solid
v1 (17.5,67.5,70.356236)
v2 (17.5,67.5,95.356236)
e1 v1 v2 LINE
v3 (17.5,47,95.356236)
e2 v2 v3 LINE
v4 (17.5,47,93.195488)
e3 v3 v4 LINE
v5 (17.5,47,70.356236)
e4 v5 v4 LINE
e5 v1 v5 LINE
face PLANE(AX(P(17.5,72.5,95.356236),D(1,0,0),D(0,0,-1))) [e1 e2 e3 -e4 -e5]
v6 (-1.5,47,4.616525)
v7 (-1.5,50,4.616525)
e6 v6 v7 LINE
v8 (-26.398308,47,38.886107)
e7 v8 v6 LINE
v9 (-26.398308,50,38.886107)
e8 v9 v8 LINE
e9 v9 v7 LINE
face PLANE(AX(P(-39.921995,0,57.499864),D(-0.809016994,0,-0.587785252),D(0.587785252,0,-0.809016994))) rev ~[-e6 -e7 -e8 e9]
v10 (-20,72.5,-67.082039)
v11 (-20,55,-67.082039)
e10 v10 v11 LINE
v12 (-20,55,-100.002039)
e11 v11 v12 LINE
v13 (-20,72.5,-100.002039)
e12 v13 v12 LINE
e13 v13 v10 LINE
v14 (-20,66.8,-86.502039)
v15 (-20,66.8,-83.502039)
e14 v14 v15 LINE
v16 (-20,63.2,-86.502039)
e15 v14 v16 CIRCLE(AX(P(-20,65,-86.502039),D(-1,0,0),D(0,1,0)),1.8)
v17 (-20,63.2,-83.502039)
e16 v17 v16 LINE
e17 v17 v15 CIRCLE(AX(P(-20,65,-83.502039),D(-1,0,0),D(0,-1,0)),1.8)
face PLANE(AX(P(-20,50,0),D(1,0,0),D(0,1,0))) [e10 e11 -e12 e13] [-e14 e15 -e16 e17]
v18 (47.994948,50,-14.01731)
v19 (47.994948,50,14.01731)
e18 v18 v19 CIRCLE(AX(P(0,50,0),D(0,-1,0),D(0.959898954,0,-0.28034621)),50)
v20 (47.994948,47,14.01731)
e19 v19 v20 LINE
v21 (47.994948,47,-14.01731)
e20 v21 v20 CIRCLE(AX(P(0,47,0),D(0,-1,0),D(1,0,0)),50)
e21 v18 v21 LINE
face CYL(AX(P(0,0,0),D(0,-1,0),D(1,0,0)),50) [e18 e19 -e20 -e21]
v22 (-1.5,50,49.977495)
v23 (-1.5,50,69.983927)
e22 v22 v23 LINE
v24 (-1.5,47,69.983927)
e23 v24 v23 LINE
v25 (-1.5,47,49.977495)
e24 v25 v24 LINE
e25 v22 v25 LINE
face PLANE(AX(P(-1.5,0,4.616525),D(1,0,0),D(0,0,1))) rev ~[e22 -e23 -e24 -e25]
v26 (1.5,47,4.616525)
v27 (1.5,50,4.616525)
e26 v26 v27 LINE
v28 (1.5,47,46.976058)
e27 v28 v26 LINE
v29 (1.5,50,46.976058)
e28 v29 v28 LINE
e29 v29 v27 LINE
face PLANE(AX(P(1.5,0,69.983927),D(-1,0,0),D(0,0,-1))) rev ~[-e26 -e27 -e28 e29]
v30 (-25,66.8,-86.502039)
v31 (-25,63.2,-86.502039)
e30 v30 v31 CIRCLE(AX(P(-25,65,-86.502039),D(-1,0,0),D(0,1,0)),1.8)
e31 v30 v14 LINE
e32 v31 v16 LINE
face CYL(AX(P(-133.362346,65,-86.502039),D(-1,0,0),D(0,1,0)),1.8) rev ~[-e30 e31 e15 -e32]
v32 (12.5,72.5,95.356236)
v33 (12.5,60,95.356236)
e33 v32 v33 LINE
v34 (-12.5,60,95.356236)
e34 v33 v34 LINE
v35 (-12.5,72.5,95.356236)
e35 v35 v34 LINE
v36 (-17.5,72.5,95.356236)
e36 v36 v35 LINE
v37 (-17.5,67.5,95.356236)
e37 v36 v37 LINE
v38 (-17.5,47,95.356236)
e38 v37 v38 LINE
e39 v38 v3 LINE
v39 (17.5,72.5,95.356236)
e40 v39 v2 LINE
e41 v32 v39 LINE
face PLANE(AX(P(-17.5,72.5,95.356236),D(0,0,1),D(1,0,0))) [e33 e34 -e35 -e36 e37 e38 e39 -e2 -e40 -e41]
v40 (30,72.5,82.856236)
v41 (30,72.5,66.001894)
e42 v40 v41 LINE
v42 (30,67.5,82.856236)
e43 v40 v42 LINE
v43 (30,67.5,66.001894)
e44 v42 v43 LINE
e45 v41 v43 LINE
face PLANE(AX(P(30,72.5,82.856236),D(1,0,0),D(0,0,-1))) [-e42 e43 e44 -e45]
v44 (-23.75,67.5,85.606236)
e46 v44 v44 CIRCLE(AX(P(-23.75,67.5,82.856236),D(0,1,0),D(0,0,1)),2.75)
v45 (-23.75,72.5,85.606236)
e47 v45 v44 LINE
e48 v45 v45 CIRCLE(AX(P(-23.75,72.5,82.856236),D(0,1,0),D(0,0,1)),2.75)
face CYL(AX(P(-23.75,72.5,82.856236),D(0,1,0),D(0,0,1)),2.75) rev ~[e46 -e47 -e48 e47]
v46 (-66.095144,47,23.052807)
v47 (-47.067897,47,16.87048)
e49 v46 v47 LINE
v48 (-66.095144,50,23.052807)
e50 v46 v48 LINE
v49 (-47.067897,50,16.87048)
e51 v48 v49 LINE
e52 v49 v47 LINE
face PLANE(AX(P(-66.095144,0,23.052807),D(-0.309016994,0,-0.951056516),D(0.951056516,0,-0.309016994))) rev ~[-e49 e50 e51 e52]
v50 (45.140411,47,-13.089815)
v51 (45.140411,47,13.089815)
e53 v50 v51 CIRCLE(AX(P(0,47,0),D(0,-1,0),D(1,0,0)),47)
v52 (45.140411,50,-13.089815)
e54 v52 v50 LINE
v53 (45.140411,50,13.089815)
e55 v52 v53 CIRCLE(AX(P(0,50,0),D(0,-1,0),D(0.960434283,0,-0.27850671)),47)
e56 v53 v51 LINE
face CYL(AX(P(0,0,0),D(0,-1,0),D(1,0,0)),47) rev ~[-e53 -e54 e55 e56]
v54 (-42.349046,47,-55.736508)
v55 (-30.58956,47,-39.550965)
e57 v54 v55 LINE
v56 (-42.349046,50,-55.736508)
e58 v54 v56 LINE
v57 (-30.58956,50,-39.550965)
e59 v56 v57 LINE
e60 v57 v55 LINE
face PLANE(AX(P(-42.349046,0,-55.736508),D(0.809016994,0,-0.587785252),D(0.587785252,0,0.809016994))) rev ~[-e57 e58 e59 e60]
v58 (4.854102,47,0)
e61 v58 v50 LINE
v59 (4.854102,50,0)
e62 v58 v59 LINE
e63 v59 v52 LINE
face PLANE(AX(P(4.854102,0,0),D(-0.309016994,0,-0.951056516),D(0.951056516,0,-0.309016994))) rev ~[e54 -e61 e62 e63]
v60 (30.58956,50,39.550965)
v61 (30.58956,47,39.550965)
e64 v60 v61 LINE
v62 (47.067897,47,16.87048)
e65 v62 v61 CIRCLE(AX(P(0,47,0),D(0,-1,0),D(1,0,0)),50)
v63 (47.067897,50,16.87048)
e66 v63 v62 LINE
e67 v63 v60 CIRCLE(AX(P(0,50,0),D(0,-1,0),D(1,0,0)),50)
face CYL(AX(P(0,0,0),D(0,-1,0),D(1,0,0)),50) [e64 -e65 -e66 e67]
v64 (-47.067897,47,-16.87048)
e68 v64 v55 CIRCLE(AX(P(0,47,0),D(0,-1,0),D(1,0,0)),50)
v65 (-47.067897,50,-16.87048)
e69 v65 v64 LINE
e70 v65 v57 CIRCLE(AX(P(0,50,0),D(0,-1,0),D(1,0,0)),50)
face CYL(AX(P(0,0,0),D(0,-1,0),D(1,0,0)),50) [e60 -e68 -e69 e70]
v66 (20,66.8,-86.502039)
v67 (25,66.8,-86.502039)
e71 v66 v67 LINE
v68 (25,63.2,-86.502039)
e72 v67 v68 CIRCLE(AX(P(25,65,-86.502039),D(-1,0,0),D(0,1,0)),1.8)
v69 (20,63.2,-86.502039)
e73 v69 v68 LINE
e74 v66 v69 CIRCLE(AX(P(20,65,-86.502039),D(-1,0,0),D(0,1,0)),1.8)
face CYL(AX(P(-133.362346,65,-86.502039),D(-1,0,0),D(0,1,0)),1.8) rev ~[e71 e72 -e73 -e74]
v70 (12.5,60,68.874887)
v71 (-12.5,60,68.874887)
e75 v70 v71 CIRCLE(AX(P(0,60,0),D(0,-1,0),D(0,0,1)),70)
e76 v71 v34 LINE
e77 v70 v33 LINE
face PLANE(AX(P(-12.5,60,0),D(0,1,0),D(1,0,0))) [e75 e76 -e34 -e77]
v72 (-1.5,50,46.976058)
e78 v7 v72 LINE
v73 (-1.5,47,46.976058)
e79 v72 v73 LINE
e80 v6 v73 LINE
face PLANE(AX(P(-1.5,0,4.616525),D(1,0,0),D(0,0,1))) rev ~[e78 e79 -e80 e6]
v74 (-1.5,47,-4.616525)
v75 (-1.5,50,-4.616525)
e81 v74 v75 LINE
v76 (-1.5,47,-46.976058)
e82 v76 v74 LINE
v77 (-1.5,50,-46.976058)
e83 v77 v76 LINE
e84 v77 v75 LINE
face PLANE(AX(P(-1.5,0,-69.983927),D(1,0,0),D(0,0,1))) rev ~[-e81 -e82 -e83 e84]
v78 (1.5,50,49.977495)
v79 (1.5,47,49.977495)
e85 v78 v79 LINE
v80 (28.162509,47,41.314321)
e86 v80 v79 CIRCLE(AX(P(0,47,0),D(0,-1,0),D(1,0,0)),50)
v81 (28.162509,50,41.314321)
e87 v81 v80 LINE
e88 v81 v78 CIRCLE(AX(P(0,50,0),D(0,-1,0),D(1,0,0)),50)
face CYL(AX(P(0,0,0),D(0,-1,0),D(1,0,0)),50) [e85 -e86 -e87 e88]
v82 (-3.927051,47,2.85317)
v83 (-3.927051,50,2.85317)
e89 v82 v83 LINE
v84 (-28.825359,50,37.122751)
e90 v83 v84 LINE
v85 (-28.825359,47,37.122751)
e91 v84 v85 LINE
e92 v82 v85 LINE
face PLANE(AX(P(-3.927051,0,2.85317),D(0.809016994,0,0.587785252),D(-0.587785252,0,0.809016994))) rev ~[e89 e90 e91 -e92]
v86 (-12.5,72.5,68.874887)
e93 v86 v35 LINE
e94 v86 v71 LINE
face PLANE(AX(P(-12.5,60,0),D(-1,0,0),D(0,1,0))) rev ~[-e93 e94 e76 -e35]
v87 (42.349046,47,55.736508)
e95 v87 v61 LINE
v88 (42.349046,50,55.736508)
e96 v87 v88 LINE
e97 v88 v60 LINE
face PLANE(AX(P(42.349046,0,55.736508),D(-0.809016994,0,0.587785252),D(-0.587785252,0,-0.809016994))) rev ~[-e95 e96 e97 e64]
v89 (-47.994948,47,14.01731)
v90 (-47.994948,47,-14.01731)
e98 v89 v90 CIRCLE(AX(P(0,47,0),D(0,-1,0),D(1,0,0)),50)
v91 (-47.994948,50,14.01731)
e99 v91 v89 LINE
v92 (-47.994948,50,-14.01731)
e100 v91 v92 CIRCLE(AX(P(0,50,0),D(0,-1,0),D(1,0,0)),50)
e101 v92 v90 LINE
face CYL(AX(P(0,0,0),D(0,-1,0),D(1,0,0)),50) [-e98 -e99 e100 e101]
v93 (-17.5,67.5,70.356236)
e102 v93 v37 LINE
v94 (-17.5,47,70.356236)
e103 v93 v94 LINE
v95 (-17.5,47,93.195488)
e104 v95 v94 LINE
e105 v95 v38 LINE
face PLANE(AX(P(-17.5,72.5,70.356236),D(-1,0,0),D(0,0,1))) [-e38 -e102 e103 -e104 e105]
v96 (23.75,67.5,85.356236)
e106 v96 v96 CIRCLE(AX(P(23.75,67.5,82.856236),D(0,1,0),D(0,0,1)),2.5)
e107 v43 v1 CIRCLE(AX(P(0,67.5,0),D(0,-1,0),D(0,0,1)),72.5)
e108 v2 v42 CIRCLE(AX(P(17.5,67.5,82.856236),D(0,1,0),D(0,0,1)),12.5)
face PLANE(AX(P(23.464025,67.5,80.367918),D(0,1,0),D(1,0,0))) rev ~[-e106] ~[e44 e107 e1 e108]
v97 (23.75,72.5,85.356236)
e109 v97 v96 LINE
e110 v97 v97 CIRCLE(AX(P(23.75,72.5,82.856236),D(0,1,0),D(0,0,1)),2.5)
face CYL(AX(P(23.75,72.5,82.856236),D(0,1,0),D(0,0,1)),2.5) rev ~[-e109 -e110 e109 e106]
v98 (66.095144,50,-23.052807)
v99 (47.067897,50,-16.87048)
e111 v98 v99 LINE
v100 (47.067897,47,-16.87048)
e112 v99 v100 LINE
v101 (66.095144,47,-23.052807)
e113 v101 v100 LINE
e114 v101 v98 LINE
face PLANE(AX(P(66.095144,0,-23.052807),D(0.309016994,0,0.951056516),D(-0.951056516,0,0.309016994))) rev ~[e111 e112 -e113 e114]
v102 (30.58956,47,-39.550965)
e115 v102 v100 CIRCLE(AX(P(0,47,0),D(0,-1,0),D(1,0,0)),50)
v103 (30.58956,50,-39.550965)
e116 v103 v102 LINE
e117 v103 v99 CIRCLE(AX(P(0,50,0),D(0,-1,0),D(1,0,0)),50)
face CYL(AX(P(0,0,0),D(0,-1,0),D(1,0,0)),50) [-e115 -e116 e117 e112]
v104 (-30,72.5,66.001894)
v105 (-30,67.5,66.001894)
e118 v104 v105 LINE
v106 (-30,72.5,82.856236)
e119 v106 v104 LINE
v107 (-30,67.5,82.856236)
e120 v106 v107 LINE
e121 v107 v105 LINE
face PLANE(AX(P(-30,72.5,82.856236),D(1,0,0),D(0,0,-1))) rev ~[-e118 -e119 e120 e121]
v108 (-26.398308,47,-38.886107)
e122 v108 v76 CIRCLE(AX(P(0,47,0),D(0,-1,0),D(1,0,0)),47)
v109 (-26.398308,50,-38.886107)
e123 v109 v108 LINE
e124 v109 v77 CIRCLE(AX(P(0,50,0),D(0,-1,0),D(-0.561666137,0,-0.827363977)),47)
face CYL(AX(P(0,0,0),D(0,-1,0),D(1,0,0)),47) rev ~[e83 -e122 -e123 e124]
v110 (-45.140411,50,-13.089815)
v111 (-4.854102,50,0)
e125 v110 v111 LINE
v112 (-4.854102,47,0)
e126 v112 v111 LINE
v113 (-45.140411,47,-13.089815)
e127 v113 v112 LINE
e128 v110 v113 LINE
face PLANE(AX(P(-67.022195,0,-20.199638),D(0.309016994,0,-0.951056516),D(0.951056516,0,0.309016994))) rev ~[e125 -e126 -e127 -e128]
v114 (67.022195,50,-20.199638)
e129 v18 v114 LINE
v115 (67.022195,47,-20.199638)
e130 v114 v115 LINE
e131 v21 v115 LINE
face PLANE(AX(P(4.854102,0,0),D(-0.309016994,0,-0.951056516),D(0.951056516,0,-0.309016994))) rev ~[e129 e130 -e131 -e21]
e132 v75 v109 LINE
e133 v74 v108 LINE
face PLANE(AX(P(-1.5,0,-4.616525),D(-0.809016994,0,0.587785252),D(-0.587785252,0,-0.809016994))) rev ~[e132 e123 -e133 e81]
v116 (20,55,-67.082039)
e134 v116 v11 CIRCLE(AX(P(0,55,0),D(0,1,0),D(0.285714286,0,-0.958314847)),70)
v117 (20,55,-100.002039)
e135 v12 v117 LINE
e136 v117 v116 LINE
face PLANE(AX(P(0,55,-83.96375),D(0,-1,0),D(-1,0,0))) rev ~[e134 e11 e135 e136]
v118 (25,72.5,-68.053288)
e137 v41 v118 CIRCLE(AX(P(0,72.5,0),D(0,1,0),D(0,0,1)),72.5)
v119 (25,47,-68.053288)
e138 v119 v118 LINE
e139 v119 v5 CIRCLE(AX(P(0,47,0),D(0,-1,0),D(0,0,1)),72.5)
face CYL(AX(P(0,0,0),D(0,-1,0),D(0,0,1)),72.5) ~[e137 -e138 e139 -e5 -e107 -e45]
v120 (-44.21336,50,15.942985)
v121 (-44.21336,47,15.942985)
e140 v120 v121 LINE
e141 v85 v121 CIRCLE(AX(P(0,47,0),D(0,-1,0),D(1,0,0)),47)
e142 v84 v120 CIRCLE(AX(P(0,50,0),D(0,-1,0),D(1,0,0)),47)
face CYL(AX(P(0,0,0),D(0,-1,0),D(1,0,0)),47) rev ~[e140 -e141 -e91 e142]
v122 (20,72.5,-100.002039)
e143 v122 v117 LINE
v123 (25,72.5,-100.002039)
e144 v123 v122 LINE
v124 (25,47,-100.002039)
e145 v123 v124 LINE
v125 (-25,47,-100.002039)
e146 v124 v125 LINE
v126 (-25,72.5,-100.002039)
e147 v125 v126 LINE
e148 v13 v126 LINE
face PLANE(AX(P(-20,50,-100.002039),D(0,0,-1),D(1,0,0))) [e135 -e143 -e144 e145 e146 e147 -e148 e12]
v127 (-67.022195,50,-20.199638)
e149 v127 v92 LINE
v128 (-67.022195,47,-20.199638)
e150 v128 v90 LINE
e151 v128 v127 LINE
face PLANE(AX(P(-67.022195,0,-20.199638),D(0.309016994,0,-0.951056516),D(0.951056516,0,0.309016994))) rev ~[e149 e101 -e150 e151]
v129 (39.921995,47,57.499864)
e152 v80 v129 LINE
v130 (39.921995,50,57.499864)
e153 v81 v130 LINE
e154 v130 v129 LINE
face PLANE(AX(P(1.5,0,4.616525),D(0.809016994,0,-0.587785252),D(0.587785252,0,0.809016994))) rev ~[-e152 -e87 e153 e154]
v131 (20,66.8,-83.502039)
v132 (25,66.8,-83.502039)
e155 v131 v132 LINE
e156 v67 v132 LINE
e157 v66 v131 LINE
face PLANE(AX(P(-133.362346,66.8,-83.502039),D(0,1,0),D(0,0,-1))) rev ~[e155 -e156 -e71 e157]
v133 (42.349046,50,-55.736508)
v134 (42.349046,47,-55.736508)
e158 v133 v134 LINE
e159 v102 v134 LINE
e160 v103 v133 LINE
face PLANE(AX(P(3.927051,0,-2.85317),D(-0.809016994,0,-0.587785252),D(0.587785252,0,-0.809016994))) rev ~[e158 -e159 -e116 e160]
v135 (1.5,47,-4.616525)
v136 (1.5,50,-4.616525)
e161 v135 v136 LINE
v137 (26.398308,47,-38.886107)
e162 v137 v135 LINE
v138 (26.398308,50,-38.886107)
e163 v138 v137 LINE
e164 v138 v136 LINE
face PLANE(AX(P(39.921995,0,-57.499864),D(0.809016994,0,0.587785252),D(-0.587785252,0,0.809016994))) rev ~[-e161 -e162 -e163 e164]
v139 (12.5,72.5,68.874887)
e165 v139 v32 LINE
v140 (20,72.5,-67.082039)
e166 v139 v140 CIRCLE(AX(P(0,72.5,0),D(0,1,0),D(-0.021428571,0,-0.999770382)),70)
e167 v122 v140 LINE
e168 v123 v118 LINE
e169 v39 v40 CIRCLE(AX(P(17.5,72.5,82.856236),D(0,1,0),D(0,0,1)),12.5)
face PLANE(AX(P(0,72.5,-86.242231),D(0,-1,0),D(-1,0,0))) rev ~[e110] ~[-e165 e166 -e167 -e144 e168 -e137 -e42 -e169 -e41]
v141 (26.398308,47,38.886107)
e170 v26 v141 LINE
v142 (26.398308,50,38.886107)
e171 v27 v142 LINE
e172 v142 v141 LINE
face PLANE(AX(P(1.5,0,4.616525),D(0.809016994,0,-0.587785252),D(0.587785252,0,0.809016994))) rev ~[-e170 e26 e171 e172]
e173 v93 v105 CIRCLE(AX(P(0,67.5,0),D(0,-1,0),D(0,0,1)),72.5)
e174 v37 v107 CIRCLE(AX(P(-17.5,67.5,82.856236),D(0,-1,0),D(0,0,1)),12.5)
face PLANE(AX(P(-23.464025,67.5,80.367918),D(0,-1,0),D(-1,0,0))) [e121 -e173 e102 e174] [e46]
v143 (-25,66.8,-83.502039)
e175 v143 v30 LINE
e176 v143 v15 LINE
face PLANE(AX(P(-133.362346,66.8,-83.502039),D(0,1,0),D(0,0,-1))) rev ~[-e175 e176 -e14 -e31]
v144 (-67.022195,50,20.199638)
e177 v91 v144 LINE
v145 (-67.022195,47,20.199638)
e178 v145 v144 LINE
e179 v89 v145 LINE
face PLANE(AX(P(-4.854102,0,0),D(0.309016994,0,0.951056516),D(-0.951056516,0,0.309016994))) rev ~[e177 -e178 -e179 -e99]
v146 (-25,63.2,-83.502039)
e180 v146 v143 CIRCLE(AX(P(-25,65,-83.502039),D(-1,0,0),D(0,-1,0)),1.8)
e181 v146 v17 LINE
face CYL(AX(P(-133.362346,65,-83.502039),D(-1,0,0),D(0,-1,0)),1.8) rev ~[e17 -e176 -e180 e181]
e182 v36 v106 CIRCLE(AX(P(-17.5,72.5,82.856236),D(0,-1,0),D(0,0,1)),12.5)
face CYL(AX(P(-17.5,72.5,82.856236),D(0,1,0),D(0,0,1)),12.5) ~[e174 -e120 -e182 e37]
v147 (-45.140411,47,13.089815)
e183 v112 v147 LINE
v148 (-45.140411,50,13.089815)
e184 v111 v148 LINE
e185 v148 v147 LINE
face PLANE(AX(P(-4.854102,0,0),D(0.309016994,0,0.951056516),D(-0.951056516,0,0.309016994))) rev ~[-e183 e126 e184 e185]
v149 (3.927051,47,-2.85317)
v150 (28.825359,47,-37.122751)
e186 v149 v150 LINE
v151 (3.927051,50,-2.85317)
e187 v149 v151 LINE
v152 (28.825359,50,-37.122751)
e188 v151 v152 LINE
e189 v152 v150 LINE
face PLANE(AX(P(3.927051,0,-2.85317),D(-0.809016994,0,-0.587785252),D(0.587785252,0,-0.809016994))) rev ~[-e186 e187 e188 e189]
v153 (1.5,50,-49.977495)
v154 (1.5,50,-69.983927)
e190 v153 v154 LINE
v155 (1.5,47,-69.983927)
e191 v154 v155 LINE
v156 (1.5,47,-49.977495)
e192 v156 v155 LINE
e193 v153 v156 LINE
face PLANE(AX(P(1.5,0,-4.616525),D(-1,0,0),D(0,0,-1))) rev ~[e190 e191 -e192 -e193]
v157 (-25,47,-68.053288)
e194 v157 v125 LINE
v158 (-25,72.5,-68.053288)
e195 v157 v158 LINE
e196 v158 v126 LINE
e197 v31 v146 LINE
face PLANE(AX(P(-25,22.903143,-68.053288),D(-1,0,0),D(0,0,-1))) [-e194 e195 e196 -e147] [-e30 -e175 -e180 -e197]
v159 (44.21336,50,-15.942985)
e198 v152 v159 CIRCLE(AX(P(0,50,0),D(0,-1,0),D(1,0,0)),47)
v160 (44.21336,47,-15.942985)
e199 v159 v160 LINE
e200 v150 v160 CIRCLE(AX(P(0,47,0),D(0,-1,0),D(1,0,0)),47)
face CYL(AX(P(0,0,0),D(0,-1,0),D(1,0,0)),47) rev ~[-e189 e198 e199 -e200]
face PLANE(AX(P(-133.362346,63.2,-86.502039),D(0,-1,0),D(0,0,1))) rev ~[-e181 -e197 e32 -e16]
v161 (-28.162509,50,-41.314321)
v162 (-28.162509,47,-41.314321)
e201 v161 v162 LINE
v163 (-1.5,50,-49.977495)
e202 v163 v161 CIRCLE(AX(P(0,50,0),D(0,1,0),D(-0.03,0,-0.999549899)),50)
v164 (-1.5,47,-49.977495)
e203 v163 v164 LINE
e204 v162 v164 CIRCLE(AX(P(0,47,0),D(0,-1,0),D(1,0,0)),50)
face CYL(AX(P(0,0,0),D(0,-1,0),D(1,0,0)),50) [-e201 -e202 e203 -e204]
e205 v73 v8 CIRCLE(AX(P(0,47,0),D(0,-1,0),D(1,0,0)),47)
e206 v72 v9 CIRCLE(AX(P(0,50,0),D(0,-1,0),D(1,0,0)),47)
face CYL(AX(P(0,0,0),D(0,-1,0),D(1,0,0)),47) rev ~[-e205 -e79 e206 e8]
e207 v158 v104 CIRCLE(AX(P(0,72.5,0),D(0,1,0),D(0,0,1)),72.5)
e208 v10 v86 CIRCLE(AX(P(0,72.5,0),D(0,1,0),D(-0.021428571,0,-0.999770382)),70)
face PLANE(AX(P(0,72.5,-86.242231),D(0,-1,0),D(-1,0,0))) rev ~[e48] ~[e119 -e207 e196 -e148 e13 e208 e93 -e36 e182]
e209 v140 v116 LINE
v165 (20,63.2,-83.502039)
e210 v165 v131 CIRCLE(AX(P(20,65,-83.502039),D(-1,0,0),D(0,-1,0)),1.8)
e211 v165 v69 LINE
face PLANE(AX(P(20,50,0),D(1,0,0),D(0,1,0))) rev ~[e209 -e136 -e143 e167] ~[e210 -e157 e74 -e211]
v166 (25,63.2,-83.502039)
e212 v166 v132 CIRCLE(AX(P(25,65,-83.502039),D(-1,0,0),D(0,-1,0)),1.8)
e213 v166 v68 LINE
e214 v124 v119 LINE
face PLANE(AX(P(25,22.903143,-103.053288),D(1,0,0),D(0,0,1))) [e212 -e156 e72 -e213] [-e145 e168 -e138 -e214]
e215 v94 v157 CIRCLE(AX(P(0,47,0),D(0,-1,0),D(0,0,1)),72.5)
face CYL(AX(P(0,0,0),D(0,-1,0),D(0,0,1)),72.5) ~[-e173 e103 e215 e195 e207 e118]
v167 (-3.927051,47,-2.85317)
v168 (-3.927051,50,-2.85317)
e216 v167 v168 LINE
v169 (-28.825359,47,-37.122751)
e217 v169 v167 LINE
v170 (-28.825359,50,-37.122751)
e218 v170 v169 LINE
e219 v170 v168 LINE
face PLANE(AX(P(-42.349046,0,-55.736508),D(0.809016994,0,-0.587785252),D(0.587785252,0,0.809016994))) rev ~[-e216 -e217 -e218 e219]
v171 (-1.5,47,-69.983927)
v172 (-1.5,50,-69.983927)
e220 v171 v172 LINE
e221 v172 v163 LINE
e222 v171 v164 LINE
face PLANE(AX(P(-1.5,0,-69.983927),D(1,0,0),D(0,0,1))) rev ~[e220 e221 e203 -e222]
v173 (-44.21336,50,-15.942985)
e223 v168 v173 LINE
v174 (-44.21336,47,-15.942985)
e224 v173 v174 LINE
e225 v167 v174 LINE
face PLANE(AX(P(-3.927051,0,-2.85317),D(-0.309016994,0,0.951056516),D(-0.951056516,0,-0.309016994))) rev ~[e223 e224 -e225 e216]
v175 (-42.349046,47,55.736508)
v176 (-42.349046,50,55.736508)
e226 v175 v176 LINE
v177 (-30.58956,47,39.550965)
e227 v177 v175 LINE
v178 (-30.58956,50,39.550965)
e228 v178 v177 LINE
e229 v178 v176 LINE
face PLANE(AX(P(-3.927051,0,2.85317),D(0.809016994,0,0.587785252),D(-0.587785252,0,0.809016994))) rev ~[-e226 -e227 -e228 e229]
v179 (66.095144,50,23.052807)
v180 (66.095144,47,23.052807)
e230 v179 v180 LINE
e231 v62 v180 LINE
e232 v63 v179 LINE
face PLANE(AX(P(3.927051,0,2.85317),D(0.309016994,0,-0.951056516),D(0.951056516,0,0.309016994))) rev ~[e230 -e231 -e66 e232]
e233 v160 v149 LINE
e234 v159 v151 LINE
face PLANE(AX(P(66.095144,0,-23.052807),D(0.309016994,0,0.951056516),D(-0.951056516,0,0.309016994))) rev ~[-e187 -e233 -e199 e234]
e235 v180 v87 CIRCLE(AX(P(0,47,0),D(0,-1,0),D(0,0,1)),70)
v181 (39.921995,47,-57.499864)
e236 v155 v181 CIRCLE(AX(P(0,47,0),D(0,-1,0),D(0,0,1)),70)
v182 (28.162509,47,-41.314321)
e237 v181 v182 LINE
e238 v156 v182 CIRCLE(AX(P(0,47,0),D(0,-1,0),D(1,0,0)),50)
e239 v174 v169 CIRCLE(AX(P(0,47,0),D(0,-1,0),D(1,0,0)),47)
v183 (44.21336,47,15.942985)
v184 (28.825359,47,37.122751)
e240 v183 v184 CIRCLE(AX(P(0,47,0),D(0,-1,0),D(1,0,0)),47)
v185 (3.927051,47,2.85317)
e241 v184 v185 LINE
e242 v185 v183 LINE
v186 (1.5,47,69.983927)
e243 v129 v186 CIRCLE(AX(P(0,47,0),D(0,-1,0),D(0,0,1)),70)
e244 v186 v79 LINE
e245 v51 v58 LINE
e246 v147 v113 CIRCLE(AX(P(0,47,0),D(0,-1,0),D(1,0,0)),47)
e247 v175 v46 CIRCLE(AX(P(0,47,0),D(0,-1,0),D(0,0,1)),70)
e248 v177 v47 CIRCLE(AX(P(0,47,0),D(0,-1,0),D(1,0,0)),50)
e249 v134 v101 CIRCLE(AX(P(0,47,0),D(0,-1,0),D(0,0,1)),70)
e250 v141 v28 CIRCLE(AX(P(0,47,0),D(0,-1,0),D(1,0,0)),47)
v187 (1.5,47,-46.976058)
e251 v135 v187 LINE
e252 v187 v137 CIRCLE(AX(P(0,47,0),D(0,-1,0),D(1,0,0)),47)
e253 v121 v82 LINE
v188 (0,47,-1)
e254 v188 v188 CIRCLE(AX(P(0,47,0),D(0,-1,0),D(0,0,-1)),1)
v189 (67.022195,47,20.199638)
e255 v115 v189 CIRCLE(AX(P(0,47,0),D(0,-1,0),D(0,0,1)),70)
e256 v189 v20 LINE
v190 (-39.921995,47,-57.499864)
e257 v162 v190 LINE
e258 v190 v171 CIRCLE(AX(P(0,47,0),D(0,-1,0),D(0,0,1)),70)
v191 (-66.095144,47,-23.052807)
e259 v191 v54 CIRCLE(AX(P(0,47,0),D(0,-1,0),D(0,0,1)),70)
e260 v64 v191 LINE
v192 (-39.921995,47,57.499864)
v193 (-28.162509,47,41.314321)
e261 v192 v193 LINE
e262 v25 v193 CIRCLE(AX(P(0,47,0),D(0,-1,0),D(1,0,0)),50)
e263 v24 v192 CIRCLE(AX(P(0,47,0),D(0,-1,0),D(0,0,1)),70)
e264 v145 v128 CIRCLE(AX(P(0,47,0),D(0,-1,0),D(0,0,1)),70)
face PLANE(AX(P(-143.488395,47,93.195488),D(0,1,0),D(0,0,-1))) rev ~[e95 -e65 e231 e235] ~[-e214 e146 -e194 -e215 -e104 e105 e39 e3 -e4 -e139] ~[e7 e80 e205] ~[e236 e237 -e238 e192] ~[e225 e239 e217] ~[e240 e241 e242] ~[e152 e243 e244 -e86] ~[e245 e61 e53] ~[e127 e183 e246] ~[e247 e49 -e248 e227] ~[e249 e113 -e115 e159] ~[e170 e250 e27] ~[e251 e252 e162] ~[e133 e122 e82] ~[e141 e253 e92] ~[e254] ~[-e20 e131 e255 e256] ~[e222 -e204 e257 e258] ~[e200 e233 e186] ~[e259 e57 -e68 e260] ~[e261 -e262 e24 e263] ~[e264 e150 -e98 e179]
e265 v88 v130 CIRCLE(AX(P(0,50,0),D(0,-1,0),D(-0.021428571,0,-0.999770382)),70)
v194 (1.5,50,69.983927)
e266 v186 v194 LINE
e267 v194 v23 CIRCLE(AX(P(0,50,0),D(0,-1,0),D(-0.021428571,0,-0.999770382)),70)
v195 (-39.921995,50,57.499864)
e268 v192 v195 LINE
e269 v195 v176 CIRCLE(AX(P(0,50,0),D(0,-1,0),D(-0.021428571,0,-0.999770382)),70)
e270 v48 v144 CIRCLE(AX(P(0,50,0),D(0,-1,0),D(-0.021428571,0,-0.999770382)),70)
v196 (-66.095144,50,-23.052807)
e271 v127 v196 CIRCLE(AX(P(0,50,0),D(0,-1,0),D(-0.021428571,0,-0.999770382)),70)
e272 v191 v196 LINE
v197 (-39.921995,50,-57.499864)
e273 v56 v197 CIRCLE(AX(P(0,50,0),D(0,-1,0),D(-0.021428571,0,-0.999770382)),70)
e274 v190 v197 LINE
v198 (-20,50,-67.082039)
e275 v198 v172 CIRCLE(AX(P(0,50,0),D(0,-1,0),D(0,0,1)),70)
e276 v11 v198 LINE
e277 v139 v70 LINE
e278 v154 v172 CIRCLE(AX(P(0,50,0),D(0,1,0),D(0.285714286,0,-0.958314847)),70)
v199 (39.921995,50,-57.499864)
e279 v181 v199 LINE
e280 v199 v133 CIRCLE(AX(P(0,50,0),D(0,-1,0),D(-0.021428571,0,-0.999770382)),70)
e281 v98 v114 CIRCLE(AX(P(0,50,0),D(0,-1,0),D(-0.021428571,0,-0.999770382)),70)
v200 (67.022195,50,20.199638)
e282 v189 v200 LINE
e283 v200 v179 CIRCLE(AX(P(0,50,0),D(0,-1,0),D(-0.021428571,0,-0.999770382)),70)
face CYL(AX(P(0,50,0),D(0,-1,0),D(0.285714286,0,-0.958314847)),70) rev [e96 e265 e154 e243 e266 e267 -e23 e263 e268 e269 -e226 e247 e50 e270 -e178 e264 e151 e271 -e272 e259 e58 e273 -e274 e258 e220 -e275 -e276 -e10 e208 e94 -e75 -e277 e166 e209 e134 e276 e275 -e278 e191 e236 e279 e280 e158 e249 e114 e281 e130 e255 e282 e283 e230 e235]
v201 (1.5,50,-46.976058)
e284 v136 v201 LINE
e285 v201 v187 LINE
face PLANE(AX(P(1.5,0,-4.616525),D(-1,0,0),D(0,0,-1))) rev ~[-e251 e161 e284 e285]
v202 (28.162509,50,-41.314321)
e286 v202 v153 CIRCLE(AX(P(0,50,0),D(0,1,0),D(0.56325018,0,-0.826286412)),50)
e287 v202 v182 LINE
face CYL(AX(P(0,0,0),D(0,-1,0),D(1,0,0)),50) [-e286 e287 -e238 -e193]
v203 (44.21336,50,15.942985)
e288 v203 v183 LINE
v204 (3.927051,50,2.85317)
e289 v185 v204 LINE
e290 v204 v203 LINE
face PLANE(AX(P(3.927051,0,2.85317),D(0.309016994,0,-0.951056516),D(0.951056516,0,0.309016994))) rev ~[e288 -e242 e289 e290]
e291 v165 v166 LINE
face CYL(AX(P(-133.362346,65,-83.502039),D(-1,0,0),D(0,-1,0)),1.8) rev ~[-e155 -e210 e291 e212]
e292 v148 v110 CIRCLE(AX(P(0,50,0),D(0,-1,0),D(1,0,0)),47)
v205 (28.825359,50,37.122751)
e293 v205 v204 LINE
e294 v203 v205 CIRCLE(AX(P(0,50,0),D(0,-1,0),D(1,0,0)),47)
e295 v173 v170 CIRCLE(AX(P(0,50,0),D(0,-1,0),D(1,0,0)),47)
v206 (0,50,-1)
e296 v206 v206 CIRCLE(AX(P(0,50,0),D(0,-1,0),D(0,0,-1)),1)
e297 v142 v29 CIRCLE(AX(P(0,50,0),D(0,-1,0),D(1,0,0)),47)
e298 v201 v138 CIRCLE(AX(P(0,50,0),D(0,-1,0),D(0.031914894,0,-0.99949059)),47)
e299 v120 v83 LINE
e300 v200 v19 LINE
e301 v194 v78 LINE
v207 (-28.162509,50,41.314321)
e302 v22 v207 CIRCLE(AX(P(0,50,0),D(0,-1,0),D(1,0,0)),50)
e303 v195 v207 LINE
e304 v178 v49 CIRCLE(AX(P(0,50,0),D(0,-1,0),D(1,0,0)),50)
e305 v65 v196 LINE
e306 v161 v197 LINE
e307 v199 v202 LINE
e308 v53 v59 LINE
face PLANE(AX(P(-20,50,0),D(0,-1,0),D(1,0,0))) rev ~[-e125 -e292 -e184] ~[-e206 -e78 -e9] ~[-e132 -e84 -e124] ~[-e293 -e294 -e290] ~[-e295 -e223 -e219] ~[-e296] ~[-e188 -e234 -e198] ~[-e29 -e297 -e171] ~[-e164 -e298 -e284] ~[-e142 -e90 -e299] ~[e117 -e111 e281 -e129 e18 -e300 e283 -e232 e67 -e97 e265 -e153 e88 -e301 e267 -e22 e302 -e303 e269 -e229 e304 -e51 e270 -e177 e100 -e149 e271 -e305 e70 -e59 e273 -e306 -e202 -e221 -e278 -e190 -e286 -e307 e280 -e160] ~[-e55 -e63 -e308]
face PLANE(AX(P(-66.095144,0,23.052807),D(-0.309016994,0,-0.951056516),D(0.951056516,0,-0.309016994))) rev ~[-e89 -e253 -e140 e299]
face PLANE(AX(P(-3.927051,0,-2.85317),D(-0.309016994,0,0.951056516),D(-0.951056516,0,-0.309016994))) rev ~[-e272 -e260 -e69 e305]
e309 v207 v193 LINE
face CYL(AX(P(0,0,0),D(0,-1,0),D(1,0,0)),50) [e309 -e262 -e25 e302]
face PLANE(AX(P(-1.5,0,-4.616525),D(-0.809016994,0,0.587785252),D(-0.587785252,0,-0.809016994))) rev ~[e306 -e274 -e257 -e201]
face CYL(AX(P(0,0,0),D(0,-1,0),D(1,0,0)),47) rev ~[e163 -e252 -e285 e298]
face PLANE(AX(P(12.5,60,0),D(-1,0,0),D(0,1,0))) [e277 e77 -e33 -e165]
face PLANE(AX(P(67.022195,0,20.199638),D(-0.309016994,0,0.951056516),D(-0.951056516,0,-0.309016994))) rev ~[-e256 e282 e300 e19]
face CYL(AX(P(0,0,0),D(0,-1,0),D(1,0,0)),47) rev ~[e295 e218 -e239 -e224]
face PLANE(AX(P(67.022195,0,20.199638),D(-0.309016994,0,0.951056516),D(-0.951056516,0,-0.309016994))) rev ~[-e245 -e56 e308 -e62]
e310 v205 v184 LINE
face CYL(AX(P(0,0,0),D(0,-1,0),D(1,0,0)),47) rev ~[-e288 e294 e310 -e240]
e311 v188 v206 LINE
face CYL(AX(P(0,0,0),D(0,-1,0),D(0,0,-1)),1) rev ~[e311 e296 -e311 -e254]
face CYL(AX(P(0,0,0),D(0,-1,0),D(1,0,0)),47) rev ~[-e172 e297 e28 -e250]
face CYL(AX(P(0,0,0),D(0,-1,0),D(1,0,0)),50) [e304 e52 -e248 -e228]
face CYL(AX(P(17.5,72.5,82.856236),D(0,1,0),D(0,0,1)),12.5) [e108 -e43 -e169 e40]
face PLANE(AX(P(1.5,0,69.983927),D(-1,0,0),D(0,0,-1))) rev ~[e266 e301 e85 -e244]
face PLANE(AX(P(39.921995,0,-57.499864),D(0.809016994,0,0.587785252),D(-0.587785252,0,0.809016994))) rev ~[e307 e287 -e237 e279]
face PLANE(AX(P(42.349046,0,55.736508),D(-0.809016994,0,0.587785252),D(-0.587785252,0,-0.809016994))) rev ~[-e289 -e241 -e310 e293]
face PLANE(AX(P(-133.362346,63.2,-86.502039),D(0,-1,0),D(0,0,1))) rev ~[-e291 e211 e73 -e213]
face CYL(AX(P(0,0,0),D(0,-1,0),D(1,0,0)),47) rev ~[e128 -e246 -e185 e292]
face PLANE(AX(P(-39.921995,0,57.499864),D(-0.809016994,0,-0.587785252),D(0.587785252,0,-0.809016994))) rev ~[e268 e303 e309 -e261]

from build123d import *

# Parameters (mm, degrees)
SKETCH1_R               = 72.5
SKETCH1_R_2             = 70
BOSS_EXTRUDE4_DEPTH     = 16
BOSS_EXTRUDE5_DEPTH     = 50
SKETCH2_R               = 1
CUT_EXTRUDE1_DEPTH      = 115.072345465
SKETCH3_R               = 50
SKETCH3_R_2             = 47
BOSS_EXTRUDE6_DEPTH     = 50
SKETCH1_12_R            = 72.5
SKETCH1_12_R_2          = 70
BOSS_EXTRUDE7_DEPTH     = 72.5
BOSS_EXTRUDE8_DEPTH     = 26
SKETCH5_W               = 25
SKETCH5_H               = 25
CUT_EXTRUDE4_DEPTH      = 137.5
SKETCH7_R               = 2.75
SKETCH7_R_2             = 2.5
BOSS_EXTRUDE9_DEPTH     = 5
SKETCH12_W              = 40
SKETCH12_H              = 45
CUT_EXTRUDE5_DEPTH      = 180
BOSS_EXTRUDE11_START    = -49.596857296
BOSS_EXTRUDE11_DEPTH    = 49.596857296
SKETCH12_2_W            = 40
SKETCH12_2_H            = 45
CUT_EXTRUDE6_DEPTH      = 199.5
CUT_EXTRUDE7_DEPTH      = 136.410776564
CUT_EXTRUDE7_DEPTH_BACK = 136.410776564
SKETCH17_W              = 54.58952291
SKETCH17_H              = 5.845779458
CUT_EXTRUDE8_DEPTH      = 158.362345779
CUT_EXTRUDE8_DEPTH_BACK = 158.362345779
SKETCH22_W              = 10
SKETCH22_H              = 10
BOSS_EXTRUDE12_DEPTH    = 22.903142704
CUT_EXTRUDE9_DEPTH      = 144.988394911
CUT_EXTRUDE9_DEPTH_BACK = 144.988394911
SKETCH24_W              = 215.86755616
SKETCH24_H              = 61.868005926
BOSS_EXTRUDE13_DEPTH    = 5
SKETCH27_W              = 40.372489194
SKETCH27_H              = 5.878977483
CUT_EXTRUDE11_DEPTH     = 5


with BuildPart() as part:
    # Sketch1 → Boss-Extrude4 (new body)
    with BuildSketch(Plane(origin=(0, 0, 0), x_dir=(1, 0, 0), z_dir=(0, 1, 0))):
        with Locations(Location((0, 0, 0), (0, 0, 270))):
            Circle(SKETCH1_R)
        with Locations(Location((0, 0, 0), (0, 0, 270))):
            Circle(SKETCH1_R_2, mode=Mode.SUBTRACT)
    extrude(amount=BOSS_EXTRUDE4_DEPTH)

    # Sketch1<11> → Boss-Extrude5 (add)
    with BuildSketch(Plane(origin=(0, 0, 0), x_dir=(1, 0, 0), z_dir=(0, 1, 0))):
        Polygon((1.5, 69.983926726), (0, 70.992443901), (-1.5, 69.983926726), (-1.5, 4.616525306), (-39.921994536, 57.499863933), (-41.728311549, 57.434093588), (-42.349045519, 55.736508176), (-3.927050983, 2.853169549), (-66.095144057, 23.052807466), (-67.51782638, 21.937871638), (-67.02219504, 20.199637917), (-4.854101966, 0), (-67.02219504, -20.199637917), (-67.51782638, -21.937871638), (-66.095144057, -23.052807466), (-3.927050983, -2.853169549), (-42.349045519, -55.736508176), (-41.728311549, -57.434093588), (-39.921994536, -57.499863933), (-1.5, -4.616525306), (-1.5, -69.983926726), (0, -70.992443901), (1.5, -69.983926726), (1.5, -4.616525306), (39.921994536, -57.499863933), (41.728311549, -57.434093588), (42.349045519, -55.736508176), (3.927050983, -2.853169549), (66.095144057, -23.052807466), (67.51782638, -21.937871638), (67.02219504, -20.199637917), (4.854101966, 0), (67.02219504, 20.199637917), (67.51782638, 21.937871638), (66.095144057, 23.052807466), (3.927050983, 2.853169549), (42.349045519, 55.736508176), (41.728311549, 57.434093588), (39.921994536, 57.499863933), (1.5, 4.616525306), align=None)
    extrude(amount=BOSS_EXTRUDE5_DEPTH)

    # Sketch2 → Cut-Extrude1 (cut, through all)
    with BuildSketch(Plane.XZ):
        with Locations(Location((0, 0, 0), (0, 0, 270))):
            Circle(SKETCH2_R)
    extrude(amount=-CUT_EXTRUDE1_DEPTH, mode=Mode.SUBTRACT)

    # Sketch3 → Boss-Extrude6 (add)
    with BuildSketch(Plane.XZ):
        Circle(SKETCH3_R)
        Circle(SKETCH3_R_2, mode=Mode.SUBTRACT)
    extrude(amount=-BOSS_EXTRUDE6_DEPTH)

    # Sketch1<12> → Boss-Extrude7 (add)
    with BuildSketch(Plane(origin=(0, 0, 0), x_dir=(1, 0, 0), z_dir=(0, 1, 0))):
        with Locations(Location((0, 0, 0), (0, 0, 270))):
            Circle(SKETCH1_12_R)
        with Locations(Location((0, 0, 0), (0, 0, 91.227860685))):
            Circle(SKETCH1_12_R_2, mode=Mode.SUBTRACT)
    extrude(amount=BOSS_EXTRUDE7_DEPTH)

    # Sketch6 → Boss-Extrude8 (add)
    with BuildSketch(Plane(origin=(0, 72.5, 0), x_dir=(1, 0, 0), z_dir=(0, 1, 0))):
        Polygon((-12.5, -95.356236397), (12.5, -95.356236397), (17.5, -95.356236397), (17.5, -70.356236397), (12.5, -70.356236397), (-12.5, -70.356236397), (-17.5, -70.356236397), (-17.5, -95.356236397), align=None)
    extrude(amount=-BOSS_EXTRUDE8_DEPTH)

    # Sketch5 → Cut-Extrude4 (cut)
    with BuildSketch(Plane.XY):
        with Locations((0, 72.5)):
            Rectangle(SKETCH5_W, SKETCH5_H)
    extrude(amount=CUT_EXTRUDE4_DEPTH, mode=Mode.SUBTRACT)

    # Sketch7 → Boss-Extrude9 (add)
    # profile 1 of 2: a face of its own
    with BuildSketch(Plane(origin=(0, 72.5, 0), x_dir=(1, 0, 0), z_dir=(0, 1, 0))):
        with BuildLine():
            Line((-30, -82.856236397), (-30, -66.001893912))
            Line((-30, -66.001893912), (-17.5, -70.356236397))
            Line((-17.5, -70.356236397), (-17.5, -95.356236397))
            ThreePointArc((-17.5, -95.356236397), (-26.338834765, -91.695071162), (-30, -82.856236397))
        make_face()
        with Locations(Location((-23.75, -82.856236397, 0), (0, 0, 270))):
            Circle(SKETCH7_R, mode=Mode.SUBTRACT)
    # profile 2 of 2: a face of its own
    with BuildSketch(Plane(origin=(0, 72.5, 0), x_dir=(1, 0, 0), z_dir=(0, 1, 0))):
        with BuildLine():
            Line((30, -82.856236397), (30, -66.001893912))
            Line((30, -66.001893912), (17.5, -70.356236397))
            Line((17.5, -70.356236397), (17.5, -95.356236397))
            ThreePointArc((17.5, -95.356236397), (26.338834765, -91.695071162), (30, -82.856236397))
        make_face()
        with Locations(Location((23.75, -82.856236397, 0), (0, 0, 270))):
            Circle(SKETCH7_R_2, mode=Mode.SUBTRACT)
    extrude(amount=-BOSS_EXTRUDE9_DEPTH)

    # Sketch12 → Cut-Extrude5 (cut)
    with BuildSketch(Plane.XY):
        with Locations((0, 72.5)):
            Rectangle(SKETCH12_W, SKETCH12_H)
    extrude(amount=-CUT_EXTRUDE5_DEPTH, mode=Mode.SUBTRACT)

    # Sketch15 → Boss-Extrude11 (add)
    with BuildSketch(Plane(origin=(0, 72.5, 0), x_dir=(1, 0, 0), z_dir=(0, 1, 0)).offset(BOSS_EXTRUDE11_START)):
        with BuildLine():
            Line((-25, 103.053287944), (25, 103.053287944))
            Line((25, 103.053287944), (25, 68.053287944))
            ThreePointArc((25, 68.053287944), (0, 72.5), (-25, 68.053287944))
            Line((-25, 68.053287944), (-25, 103.053287944))
        make_face()
    extrude(amount=BOSS_EXTRUDE11_DEPTH)

    # Sketch12<2> → Cut-Extrude6 (cut)
    with BuildSketch(Plane.XY):
        with Locations((0, 72.5)):
            Rectangle(SKETCH12_2_W, SKETCH12_2_H)
    extrude(amount=-CUT_EXTRUDE6_DEPTH, mode=Mode.SUBTRACT)

    # Sketch17 → Cut-Extrude7 (cut, two sides: drawn at the far end of the back side and taken through both)
    with BuildSketch(Plane.XZ.offset(-22.903142704).offset(-CUT_EXTRUDE7_DEPTH_BACK)):
        with Locations((-0.620011984, -102.924929054)):
            Rectangle(SKETCH17_W, SKETCH17_H)
    extrude(amount=CUT_EXTRUDE7_DEPTH + CUT_EXTRUDE7_DEPTH_BACK, mode=Mode.SUBTRACT)

    # Sketch20 → Cut-Extrude8 (cut, two sides: drawn at the far end of the back side and taken through both)
    with BuildSketch(Plane(origin=(25, 0, 0), x_dir=(0, 0, -1), z_dir=(1, 0, 0)).offset(-CUT_EXTRUDE8_DEPTH_BACK)):
        with BuildLine():
            Line((83.502039325, 66.8), (86.502039325, 66.8))
            ThreePointArc((86.502039325, 66.8), (88.302039325, 65), (86.502039325, 63.2))
            Line((86.502039325, 63.2), (83.502039325, 63.2))
            ThreePointArc((83.502039325, 63.2), (81.702039325, 65), (83.502039325, 66.8))
        make_face()
    extrude(amount=CUT_EXTRUDE8_DEPTH + CUT_EXTRUDE8_DEPTH_BACK, mode=Mode.SUBTRACT)

    # Sketch22 → Boss-Extrude12 (add)
    with BuildSketch(Plane.XZ.offset(-22.903142704)):
        with Locations((0, -77.327380707)):
            Rectangle(SKETCH22_W, SKETCH22_H)
    extrude(amount=BOSS_EXTRUDE12_DEPTH)

    # Sketch24 → Cut-Extrude9 (cut, two sides: drawn at the far end of the back side and taken through both)
    with BuildSketch(Plane(origin=(1.5, 0, 0), x_dir=(0, 0, -1), z_dir=(1, 0, 0)).offset(-CUT_EXTRUDE9_DEPTH_BACK)):
        with Locations((14.738289666, 16.065997037)):
            Rectangle(SKETCH24_W, SKETCH24_H)
    extrude(amount=CUT_EXTRUDE9_DEPTH + CUT_EXTRUDE9_DEPTH_BACK, mode=Mode.SUBTRACT)

    # Sketch25 → Boss-Extrude13 (add)
    with BuildSketch(Plane(origin=(0, 50, 0), x_dir=(1, 0, 0), z_dir=(0, 1, 0))):
        with BuildLine():
            Line((-20, 67.082039325), (-20, 100.002039325))
            Line((-20, 100.002039325), (20, 100.002039325))
            Line((20, 100.002039325), (20, 67.082039325))
            ThreePointArc((20, 67.082039325), (0, 70), (-20, 67.082039325))
        make_face()
    extrude(amount=BOSS_EXTRUDE13_DEPTH)

    # Sketch27 → Cut-Extrude11 (cut)
    with BuildSketch(Plane(origin=(0, 0, 93.195488414), x_dir=(-1, 0, 0), z_dir=(0, 0, -1))):
        with Locations((1.632930754, 44.060511259)):
            Rectangle(SKETCH27_W, SKETCH27_H)
    extrude(amount=-CUT_EXTRUDE11_DEPTH, mode=Mode.SUBTRACT)


solid = part.part
